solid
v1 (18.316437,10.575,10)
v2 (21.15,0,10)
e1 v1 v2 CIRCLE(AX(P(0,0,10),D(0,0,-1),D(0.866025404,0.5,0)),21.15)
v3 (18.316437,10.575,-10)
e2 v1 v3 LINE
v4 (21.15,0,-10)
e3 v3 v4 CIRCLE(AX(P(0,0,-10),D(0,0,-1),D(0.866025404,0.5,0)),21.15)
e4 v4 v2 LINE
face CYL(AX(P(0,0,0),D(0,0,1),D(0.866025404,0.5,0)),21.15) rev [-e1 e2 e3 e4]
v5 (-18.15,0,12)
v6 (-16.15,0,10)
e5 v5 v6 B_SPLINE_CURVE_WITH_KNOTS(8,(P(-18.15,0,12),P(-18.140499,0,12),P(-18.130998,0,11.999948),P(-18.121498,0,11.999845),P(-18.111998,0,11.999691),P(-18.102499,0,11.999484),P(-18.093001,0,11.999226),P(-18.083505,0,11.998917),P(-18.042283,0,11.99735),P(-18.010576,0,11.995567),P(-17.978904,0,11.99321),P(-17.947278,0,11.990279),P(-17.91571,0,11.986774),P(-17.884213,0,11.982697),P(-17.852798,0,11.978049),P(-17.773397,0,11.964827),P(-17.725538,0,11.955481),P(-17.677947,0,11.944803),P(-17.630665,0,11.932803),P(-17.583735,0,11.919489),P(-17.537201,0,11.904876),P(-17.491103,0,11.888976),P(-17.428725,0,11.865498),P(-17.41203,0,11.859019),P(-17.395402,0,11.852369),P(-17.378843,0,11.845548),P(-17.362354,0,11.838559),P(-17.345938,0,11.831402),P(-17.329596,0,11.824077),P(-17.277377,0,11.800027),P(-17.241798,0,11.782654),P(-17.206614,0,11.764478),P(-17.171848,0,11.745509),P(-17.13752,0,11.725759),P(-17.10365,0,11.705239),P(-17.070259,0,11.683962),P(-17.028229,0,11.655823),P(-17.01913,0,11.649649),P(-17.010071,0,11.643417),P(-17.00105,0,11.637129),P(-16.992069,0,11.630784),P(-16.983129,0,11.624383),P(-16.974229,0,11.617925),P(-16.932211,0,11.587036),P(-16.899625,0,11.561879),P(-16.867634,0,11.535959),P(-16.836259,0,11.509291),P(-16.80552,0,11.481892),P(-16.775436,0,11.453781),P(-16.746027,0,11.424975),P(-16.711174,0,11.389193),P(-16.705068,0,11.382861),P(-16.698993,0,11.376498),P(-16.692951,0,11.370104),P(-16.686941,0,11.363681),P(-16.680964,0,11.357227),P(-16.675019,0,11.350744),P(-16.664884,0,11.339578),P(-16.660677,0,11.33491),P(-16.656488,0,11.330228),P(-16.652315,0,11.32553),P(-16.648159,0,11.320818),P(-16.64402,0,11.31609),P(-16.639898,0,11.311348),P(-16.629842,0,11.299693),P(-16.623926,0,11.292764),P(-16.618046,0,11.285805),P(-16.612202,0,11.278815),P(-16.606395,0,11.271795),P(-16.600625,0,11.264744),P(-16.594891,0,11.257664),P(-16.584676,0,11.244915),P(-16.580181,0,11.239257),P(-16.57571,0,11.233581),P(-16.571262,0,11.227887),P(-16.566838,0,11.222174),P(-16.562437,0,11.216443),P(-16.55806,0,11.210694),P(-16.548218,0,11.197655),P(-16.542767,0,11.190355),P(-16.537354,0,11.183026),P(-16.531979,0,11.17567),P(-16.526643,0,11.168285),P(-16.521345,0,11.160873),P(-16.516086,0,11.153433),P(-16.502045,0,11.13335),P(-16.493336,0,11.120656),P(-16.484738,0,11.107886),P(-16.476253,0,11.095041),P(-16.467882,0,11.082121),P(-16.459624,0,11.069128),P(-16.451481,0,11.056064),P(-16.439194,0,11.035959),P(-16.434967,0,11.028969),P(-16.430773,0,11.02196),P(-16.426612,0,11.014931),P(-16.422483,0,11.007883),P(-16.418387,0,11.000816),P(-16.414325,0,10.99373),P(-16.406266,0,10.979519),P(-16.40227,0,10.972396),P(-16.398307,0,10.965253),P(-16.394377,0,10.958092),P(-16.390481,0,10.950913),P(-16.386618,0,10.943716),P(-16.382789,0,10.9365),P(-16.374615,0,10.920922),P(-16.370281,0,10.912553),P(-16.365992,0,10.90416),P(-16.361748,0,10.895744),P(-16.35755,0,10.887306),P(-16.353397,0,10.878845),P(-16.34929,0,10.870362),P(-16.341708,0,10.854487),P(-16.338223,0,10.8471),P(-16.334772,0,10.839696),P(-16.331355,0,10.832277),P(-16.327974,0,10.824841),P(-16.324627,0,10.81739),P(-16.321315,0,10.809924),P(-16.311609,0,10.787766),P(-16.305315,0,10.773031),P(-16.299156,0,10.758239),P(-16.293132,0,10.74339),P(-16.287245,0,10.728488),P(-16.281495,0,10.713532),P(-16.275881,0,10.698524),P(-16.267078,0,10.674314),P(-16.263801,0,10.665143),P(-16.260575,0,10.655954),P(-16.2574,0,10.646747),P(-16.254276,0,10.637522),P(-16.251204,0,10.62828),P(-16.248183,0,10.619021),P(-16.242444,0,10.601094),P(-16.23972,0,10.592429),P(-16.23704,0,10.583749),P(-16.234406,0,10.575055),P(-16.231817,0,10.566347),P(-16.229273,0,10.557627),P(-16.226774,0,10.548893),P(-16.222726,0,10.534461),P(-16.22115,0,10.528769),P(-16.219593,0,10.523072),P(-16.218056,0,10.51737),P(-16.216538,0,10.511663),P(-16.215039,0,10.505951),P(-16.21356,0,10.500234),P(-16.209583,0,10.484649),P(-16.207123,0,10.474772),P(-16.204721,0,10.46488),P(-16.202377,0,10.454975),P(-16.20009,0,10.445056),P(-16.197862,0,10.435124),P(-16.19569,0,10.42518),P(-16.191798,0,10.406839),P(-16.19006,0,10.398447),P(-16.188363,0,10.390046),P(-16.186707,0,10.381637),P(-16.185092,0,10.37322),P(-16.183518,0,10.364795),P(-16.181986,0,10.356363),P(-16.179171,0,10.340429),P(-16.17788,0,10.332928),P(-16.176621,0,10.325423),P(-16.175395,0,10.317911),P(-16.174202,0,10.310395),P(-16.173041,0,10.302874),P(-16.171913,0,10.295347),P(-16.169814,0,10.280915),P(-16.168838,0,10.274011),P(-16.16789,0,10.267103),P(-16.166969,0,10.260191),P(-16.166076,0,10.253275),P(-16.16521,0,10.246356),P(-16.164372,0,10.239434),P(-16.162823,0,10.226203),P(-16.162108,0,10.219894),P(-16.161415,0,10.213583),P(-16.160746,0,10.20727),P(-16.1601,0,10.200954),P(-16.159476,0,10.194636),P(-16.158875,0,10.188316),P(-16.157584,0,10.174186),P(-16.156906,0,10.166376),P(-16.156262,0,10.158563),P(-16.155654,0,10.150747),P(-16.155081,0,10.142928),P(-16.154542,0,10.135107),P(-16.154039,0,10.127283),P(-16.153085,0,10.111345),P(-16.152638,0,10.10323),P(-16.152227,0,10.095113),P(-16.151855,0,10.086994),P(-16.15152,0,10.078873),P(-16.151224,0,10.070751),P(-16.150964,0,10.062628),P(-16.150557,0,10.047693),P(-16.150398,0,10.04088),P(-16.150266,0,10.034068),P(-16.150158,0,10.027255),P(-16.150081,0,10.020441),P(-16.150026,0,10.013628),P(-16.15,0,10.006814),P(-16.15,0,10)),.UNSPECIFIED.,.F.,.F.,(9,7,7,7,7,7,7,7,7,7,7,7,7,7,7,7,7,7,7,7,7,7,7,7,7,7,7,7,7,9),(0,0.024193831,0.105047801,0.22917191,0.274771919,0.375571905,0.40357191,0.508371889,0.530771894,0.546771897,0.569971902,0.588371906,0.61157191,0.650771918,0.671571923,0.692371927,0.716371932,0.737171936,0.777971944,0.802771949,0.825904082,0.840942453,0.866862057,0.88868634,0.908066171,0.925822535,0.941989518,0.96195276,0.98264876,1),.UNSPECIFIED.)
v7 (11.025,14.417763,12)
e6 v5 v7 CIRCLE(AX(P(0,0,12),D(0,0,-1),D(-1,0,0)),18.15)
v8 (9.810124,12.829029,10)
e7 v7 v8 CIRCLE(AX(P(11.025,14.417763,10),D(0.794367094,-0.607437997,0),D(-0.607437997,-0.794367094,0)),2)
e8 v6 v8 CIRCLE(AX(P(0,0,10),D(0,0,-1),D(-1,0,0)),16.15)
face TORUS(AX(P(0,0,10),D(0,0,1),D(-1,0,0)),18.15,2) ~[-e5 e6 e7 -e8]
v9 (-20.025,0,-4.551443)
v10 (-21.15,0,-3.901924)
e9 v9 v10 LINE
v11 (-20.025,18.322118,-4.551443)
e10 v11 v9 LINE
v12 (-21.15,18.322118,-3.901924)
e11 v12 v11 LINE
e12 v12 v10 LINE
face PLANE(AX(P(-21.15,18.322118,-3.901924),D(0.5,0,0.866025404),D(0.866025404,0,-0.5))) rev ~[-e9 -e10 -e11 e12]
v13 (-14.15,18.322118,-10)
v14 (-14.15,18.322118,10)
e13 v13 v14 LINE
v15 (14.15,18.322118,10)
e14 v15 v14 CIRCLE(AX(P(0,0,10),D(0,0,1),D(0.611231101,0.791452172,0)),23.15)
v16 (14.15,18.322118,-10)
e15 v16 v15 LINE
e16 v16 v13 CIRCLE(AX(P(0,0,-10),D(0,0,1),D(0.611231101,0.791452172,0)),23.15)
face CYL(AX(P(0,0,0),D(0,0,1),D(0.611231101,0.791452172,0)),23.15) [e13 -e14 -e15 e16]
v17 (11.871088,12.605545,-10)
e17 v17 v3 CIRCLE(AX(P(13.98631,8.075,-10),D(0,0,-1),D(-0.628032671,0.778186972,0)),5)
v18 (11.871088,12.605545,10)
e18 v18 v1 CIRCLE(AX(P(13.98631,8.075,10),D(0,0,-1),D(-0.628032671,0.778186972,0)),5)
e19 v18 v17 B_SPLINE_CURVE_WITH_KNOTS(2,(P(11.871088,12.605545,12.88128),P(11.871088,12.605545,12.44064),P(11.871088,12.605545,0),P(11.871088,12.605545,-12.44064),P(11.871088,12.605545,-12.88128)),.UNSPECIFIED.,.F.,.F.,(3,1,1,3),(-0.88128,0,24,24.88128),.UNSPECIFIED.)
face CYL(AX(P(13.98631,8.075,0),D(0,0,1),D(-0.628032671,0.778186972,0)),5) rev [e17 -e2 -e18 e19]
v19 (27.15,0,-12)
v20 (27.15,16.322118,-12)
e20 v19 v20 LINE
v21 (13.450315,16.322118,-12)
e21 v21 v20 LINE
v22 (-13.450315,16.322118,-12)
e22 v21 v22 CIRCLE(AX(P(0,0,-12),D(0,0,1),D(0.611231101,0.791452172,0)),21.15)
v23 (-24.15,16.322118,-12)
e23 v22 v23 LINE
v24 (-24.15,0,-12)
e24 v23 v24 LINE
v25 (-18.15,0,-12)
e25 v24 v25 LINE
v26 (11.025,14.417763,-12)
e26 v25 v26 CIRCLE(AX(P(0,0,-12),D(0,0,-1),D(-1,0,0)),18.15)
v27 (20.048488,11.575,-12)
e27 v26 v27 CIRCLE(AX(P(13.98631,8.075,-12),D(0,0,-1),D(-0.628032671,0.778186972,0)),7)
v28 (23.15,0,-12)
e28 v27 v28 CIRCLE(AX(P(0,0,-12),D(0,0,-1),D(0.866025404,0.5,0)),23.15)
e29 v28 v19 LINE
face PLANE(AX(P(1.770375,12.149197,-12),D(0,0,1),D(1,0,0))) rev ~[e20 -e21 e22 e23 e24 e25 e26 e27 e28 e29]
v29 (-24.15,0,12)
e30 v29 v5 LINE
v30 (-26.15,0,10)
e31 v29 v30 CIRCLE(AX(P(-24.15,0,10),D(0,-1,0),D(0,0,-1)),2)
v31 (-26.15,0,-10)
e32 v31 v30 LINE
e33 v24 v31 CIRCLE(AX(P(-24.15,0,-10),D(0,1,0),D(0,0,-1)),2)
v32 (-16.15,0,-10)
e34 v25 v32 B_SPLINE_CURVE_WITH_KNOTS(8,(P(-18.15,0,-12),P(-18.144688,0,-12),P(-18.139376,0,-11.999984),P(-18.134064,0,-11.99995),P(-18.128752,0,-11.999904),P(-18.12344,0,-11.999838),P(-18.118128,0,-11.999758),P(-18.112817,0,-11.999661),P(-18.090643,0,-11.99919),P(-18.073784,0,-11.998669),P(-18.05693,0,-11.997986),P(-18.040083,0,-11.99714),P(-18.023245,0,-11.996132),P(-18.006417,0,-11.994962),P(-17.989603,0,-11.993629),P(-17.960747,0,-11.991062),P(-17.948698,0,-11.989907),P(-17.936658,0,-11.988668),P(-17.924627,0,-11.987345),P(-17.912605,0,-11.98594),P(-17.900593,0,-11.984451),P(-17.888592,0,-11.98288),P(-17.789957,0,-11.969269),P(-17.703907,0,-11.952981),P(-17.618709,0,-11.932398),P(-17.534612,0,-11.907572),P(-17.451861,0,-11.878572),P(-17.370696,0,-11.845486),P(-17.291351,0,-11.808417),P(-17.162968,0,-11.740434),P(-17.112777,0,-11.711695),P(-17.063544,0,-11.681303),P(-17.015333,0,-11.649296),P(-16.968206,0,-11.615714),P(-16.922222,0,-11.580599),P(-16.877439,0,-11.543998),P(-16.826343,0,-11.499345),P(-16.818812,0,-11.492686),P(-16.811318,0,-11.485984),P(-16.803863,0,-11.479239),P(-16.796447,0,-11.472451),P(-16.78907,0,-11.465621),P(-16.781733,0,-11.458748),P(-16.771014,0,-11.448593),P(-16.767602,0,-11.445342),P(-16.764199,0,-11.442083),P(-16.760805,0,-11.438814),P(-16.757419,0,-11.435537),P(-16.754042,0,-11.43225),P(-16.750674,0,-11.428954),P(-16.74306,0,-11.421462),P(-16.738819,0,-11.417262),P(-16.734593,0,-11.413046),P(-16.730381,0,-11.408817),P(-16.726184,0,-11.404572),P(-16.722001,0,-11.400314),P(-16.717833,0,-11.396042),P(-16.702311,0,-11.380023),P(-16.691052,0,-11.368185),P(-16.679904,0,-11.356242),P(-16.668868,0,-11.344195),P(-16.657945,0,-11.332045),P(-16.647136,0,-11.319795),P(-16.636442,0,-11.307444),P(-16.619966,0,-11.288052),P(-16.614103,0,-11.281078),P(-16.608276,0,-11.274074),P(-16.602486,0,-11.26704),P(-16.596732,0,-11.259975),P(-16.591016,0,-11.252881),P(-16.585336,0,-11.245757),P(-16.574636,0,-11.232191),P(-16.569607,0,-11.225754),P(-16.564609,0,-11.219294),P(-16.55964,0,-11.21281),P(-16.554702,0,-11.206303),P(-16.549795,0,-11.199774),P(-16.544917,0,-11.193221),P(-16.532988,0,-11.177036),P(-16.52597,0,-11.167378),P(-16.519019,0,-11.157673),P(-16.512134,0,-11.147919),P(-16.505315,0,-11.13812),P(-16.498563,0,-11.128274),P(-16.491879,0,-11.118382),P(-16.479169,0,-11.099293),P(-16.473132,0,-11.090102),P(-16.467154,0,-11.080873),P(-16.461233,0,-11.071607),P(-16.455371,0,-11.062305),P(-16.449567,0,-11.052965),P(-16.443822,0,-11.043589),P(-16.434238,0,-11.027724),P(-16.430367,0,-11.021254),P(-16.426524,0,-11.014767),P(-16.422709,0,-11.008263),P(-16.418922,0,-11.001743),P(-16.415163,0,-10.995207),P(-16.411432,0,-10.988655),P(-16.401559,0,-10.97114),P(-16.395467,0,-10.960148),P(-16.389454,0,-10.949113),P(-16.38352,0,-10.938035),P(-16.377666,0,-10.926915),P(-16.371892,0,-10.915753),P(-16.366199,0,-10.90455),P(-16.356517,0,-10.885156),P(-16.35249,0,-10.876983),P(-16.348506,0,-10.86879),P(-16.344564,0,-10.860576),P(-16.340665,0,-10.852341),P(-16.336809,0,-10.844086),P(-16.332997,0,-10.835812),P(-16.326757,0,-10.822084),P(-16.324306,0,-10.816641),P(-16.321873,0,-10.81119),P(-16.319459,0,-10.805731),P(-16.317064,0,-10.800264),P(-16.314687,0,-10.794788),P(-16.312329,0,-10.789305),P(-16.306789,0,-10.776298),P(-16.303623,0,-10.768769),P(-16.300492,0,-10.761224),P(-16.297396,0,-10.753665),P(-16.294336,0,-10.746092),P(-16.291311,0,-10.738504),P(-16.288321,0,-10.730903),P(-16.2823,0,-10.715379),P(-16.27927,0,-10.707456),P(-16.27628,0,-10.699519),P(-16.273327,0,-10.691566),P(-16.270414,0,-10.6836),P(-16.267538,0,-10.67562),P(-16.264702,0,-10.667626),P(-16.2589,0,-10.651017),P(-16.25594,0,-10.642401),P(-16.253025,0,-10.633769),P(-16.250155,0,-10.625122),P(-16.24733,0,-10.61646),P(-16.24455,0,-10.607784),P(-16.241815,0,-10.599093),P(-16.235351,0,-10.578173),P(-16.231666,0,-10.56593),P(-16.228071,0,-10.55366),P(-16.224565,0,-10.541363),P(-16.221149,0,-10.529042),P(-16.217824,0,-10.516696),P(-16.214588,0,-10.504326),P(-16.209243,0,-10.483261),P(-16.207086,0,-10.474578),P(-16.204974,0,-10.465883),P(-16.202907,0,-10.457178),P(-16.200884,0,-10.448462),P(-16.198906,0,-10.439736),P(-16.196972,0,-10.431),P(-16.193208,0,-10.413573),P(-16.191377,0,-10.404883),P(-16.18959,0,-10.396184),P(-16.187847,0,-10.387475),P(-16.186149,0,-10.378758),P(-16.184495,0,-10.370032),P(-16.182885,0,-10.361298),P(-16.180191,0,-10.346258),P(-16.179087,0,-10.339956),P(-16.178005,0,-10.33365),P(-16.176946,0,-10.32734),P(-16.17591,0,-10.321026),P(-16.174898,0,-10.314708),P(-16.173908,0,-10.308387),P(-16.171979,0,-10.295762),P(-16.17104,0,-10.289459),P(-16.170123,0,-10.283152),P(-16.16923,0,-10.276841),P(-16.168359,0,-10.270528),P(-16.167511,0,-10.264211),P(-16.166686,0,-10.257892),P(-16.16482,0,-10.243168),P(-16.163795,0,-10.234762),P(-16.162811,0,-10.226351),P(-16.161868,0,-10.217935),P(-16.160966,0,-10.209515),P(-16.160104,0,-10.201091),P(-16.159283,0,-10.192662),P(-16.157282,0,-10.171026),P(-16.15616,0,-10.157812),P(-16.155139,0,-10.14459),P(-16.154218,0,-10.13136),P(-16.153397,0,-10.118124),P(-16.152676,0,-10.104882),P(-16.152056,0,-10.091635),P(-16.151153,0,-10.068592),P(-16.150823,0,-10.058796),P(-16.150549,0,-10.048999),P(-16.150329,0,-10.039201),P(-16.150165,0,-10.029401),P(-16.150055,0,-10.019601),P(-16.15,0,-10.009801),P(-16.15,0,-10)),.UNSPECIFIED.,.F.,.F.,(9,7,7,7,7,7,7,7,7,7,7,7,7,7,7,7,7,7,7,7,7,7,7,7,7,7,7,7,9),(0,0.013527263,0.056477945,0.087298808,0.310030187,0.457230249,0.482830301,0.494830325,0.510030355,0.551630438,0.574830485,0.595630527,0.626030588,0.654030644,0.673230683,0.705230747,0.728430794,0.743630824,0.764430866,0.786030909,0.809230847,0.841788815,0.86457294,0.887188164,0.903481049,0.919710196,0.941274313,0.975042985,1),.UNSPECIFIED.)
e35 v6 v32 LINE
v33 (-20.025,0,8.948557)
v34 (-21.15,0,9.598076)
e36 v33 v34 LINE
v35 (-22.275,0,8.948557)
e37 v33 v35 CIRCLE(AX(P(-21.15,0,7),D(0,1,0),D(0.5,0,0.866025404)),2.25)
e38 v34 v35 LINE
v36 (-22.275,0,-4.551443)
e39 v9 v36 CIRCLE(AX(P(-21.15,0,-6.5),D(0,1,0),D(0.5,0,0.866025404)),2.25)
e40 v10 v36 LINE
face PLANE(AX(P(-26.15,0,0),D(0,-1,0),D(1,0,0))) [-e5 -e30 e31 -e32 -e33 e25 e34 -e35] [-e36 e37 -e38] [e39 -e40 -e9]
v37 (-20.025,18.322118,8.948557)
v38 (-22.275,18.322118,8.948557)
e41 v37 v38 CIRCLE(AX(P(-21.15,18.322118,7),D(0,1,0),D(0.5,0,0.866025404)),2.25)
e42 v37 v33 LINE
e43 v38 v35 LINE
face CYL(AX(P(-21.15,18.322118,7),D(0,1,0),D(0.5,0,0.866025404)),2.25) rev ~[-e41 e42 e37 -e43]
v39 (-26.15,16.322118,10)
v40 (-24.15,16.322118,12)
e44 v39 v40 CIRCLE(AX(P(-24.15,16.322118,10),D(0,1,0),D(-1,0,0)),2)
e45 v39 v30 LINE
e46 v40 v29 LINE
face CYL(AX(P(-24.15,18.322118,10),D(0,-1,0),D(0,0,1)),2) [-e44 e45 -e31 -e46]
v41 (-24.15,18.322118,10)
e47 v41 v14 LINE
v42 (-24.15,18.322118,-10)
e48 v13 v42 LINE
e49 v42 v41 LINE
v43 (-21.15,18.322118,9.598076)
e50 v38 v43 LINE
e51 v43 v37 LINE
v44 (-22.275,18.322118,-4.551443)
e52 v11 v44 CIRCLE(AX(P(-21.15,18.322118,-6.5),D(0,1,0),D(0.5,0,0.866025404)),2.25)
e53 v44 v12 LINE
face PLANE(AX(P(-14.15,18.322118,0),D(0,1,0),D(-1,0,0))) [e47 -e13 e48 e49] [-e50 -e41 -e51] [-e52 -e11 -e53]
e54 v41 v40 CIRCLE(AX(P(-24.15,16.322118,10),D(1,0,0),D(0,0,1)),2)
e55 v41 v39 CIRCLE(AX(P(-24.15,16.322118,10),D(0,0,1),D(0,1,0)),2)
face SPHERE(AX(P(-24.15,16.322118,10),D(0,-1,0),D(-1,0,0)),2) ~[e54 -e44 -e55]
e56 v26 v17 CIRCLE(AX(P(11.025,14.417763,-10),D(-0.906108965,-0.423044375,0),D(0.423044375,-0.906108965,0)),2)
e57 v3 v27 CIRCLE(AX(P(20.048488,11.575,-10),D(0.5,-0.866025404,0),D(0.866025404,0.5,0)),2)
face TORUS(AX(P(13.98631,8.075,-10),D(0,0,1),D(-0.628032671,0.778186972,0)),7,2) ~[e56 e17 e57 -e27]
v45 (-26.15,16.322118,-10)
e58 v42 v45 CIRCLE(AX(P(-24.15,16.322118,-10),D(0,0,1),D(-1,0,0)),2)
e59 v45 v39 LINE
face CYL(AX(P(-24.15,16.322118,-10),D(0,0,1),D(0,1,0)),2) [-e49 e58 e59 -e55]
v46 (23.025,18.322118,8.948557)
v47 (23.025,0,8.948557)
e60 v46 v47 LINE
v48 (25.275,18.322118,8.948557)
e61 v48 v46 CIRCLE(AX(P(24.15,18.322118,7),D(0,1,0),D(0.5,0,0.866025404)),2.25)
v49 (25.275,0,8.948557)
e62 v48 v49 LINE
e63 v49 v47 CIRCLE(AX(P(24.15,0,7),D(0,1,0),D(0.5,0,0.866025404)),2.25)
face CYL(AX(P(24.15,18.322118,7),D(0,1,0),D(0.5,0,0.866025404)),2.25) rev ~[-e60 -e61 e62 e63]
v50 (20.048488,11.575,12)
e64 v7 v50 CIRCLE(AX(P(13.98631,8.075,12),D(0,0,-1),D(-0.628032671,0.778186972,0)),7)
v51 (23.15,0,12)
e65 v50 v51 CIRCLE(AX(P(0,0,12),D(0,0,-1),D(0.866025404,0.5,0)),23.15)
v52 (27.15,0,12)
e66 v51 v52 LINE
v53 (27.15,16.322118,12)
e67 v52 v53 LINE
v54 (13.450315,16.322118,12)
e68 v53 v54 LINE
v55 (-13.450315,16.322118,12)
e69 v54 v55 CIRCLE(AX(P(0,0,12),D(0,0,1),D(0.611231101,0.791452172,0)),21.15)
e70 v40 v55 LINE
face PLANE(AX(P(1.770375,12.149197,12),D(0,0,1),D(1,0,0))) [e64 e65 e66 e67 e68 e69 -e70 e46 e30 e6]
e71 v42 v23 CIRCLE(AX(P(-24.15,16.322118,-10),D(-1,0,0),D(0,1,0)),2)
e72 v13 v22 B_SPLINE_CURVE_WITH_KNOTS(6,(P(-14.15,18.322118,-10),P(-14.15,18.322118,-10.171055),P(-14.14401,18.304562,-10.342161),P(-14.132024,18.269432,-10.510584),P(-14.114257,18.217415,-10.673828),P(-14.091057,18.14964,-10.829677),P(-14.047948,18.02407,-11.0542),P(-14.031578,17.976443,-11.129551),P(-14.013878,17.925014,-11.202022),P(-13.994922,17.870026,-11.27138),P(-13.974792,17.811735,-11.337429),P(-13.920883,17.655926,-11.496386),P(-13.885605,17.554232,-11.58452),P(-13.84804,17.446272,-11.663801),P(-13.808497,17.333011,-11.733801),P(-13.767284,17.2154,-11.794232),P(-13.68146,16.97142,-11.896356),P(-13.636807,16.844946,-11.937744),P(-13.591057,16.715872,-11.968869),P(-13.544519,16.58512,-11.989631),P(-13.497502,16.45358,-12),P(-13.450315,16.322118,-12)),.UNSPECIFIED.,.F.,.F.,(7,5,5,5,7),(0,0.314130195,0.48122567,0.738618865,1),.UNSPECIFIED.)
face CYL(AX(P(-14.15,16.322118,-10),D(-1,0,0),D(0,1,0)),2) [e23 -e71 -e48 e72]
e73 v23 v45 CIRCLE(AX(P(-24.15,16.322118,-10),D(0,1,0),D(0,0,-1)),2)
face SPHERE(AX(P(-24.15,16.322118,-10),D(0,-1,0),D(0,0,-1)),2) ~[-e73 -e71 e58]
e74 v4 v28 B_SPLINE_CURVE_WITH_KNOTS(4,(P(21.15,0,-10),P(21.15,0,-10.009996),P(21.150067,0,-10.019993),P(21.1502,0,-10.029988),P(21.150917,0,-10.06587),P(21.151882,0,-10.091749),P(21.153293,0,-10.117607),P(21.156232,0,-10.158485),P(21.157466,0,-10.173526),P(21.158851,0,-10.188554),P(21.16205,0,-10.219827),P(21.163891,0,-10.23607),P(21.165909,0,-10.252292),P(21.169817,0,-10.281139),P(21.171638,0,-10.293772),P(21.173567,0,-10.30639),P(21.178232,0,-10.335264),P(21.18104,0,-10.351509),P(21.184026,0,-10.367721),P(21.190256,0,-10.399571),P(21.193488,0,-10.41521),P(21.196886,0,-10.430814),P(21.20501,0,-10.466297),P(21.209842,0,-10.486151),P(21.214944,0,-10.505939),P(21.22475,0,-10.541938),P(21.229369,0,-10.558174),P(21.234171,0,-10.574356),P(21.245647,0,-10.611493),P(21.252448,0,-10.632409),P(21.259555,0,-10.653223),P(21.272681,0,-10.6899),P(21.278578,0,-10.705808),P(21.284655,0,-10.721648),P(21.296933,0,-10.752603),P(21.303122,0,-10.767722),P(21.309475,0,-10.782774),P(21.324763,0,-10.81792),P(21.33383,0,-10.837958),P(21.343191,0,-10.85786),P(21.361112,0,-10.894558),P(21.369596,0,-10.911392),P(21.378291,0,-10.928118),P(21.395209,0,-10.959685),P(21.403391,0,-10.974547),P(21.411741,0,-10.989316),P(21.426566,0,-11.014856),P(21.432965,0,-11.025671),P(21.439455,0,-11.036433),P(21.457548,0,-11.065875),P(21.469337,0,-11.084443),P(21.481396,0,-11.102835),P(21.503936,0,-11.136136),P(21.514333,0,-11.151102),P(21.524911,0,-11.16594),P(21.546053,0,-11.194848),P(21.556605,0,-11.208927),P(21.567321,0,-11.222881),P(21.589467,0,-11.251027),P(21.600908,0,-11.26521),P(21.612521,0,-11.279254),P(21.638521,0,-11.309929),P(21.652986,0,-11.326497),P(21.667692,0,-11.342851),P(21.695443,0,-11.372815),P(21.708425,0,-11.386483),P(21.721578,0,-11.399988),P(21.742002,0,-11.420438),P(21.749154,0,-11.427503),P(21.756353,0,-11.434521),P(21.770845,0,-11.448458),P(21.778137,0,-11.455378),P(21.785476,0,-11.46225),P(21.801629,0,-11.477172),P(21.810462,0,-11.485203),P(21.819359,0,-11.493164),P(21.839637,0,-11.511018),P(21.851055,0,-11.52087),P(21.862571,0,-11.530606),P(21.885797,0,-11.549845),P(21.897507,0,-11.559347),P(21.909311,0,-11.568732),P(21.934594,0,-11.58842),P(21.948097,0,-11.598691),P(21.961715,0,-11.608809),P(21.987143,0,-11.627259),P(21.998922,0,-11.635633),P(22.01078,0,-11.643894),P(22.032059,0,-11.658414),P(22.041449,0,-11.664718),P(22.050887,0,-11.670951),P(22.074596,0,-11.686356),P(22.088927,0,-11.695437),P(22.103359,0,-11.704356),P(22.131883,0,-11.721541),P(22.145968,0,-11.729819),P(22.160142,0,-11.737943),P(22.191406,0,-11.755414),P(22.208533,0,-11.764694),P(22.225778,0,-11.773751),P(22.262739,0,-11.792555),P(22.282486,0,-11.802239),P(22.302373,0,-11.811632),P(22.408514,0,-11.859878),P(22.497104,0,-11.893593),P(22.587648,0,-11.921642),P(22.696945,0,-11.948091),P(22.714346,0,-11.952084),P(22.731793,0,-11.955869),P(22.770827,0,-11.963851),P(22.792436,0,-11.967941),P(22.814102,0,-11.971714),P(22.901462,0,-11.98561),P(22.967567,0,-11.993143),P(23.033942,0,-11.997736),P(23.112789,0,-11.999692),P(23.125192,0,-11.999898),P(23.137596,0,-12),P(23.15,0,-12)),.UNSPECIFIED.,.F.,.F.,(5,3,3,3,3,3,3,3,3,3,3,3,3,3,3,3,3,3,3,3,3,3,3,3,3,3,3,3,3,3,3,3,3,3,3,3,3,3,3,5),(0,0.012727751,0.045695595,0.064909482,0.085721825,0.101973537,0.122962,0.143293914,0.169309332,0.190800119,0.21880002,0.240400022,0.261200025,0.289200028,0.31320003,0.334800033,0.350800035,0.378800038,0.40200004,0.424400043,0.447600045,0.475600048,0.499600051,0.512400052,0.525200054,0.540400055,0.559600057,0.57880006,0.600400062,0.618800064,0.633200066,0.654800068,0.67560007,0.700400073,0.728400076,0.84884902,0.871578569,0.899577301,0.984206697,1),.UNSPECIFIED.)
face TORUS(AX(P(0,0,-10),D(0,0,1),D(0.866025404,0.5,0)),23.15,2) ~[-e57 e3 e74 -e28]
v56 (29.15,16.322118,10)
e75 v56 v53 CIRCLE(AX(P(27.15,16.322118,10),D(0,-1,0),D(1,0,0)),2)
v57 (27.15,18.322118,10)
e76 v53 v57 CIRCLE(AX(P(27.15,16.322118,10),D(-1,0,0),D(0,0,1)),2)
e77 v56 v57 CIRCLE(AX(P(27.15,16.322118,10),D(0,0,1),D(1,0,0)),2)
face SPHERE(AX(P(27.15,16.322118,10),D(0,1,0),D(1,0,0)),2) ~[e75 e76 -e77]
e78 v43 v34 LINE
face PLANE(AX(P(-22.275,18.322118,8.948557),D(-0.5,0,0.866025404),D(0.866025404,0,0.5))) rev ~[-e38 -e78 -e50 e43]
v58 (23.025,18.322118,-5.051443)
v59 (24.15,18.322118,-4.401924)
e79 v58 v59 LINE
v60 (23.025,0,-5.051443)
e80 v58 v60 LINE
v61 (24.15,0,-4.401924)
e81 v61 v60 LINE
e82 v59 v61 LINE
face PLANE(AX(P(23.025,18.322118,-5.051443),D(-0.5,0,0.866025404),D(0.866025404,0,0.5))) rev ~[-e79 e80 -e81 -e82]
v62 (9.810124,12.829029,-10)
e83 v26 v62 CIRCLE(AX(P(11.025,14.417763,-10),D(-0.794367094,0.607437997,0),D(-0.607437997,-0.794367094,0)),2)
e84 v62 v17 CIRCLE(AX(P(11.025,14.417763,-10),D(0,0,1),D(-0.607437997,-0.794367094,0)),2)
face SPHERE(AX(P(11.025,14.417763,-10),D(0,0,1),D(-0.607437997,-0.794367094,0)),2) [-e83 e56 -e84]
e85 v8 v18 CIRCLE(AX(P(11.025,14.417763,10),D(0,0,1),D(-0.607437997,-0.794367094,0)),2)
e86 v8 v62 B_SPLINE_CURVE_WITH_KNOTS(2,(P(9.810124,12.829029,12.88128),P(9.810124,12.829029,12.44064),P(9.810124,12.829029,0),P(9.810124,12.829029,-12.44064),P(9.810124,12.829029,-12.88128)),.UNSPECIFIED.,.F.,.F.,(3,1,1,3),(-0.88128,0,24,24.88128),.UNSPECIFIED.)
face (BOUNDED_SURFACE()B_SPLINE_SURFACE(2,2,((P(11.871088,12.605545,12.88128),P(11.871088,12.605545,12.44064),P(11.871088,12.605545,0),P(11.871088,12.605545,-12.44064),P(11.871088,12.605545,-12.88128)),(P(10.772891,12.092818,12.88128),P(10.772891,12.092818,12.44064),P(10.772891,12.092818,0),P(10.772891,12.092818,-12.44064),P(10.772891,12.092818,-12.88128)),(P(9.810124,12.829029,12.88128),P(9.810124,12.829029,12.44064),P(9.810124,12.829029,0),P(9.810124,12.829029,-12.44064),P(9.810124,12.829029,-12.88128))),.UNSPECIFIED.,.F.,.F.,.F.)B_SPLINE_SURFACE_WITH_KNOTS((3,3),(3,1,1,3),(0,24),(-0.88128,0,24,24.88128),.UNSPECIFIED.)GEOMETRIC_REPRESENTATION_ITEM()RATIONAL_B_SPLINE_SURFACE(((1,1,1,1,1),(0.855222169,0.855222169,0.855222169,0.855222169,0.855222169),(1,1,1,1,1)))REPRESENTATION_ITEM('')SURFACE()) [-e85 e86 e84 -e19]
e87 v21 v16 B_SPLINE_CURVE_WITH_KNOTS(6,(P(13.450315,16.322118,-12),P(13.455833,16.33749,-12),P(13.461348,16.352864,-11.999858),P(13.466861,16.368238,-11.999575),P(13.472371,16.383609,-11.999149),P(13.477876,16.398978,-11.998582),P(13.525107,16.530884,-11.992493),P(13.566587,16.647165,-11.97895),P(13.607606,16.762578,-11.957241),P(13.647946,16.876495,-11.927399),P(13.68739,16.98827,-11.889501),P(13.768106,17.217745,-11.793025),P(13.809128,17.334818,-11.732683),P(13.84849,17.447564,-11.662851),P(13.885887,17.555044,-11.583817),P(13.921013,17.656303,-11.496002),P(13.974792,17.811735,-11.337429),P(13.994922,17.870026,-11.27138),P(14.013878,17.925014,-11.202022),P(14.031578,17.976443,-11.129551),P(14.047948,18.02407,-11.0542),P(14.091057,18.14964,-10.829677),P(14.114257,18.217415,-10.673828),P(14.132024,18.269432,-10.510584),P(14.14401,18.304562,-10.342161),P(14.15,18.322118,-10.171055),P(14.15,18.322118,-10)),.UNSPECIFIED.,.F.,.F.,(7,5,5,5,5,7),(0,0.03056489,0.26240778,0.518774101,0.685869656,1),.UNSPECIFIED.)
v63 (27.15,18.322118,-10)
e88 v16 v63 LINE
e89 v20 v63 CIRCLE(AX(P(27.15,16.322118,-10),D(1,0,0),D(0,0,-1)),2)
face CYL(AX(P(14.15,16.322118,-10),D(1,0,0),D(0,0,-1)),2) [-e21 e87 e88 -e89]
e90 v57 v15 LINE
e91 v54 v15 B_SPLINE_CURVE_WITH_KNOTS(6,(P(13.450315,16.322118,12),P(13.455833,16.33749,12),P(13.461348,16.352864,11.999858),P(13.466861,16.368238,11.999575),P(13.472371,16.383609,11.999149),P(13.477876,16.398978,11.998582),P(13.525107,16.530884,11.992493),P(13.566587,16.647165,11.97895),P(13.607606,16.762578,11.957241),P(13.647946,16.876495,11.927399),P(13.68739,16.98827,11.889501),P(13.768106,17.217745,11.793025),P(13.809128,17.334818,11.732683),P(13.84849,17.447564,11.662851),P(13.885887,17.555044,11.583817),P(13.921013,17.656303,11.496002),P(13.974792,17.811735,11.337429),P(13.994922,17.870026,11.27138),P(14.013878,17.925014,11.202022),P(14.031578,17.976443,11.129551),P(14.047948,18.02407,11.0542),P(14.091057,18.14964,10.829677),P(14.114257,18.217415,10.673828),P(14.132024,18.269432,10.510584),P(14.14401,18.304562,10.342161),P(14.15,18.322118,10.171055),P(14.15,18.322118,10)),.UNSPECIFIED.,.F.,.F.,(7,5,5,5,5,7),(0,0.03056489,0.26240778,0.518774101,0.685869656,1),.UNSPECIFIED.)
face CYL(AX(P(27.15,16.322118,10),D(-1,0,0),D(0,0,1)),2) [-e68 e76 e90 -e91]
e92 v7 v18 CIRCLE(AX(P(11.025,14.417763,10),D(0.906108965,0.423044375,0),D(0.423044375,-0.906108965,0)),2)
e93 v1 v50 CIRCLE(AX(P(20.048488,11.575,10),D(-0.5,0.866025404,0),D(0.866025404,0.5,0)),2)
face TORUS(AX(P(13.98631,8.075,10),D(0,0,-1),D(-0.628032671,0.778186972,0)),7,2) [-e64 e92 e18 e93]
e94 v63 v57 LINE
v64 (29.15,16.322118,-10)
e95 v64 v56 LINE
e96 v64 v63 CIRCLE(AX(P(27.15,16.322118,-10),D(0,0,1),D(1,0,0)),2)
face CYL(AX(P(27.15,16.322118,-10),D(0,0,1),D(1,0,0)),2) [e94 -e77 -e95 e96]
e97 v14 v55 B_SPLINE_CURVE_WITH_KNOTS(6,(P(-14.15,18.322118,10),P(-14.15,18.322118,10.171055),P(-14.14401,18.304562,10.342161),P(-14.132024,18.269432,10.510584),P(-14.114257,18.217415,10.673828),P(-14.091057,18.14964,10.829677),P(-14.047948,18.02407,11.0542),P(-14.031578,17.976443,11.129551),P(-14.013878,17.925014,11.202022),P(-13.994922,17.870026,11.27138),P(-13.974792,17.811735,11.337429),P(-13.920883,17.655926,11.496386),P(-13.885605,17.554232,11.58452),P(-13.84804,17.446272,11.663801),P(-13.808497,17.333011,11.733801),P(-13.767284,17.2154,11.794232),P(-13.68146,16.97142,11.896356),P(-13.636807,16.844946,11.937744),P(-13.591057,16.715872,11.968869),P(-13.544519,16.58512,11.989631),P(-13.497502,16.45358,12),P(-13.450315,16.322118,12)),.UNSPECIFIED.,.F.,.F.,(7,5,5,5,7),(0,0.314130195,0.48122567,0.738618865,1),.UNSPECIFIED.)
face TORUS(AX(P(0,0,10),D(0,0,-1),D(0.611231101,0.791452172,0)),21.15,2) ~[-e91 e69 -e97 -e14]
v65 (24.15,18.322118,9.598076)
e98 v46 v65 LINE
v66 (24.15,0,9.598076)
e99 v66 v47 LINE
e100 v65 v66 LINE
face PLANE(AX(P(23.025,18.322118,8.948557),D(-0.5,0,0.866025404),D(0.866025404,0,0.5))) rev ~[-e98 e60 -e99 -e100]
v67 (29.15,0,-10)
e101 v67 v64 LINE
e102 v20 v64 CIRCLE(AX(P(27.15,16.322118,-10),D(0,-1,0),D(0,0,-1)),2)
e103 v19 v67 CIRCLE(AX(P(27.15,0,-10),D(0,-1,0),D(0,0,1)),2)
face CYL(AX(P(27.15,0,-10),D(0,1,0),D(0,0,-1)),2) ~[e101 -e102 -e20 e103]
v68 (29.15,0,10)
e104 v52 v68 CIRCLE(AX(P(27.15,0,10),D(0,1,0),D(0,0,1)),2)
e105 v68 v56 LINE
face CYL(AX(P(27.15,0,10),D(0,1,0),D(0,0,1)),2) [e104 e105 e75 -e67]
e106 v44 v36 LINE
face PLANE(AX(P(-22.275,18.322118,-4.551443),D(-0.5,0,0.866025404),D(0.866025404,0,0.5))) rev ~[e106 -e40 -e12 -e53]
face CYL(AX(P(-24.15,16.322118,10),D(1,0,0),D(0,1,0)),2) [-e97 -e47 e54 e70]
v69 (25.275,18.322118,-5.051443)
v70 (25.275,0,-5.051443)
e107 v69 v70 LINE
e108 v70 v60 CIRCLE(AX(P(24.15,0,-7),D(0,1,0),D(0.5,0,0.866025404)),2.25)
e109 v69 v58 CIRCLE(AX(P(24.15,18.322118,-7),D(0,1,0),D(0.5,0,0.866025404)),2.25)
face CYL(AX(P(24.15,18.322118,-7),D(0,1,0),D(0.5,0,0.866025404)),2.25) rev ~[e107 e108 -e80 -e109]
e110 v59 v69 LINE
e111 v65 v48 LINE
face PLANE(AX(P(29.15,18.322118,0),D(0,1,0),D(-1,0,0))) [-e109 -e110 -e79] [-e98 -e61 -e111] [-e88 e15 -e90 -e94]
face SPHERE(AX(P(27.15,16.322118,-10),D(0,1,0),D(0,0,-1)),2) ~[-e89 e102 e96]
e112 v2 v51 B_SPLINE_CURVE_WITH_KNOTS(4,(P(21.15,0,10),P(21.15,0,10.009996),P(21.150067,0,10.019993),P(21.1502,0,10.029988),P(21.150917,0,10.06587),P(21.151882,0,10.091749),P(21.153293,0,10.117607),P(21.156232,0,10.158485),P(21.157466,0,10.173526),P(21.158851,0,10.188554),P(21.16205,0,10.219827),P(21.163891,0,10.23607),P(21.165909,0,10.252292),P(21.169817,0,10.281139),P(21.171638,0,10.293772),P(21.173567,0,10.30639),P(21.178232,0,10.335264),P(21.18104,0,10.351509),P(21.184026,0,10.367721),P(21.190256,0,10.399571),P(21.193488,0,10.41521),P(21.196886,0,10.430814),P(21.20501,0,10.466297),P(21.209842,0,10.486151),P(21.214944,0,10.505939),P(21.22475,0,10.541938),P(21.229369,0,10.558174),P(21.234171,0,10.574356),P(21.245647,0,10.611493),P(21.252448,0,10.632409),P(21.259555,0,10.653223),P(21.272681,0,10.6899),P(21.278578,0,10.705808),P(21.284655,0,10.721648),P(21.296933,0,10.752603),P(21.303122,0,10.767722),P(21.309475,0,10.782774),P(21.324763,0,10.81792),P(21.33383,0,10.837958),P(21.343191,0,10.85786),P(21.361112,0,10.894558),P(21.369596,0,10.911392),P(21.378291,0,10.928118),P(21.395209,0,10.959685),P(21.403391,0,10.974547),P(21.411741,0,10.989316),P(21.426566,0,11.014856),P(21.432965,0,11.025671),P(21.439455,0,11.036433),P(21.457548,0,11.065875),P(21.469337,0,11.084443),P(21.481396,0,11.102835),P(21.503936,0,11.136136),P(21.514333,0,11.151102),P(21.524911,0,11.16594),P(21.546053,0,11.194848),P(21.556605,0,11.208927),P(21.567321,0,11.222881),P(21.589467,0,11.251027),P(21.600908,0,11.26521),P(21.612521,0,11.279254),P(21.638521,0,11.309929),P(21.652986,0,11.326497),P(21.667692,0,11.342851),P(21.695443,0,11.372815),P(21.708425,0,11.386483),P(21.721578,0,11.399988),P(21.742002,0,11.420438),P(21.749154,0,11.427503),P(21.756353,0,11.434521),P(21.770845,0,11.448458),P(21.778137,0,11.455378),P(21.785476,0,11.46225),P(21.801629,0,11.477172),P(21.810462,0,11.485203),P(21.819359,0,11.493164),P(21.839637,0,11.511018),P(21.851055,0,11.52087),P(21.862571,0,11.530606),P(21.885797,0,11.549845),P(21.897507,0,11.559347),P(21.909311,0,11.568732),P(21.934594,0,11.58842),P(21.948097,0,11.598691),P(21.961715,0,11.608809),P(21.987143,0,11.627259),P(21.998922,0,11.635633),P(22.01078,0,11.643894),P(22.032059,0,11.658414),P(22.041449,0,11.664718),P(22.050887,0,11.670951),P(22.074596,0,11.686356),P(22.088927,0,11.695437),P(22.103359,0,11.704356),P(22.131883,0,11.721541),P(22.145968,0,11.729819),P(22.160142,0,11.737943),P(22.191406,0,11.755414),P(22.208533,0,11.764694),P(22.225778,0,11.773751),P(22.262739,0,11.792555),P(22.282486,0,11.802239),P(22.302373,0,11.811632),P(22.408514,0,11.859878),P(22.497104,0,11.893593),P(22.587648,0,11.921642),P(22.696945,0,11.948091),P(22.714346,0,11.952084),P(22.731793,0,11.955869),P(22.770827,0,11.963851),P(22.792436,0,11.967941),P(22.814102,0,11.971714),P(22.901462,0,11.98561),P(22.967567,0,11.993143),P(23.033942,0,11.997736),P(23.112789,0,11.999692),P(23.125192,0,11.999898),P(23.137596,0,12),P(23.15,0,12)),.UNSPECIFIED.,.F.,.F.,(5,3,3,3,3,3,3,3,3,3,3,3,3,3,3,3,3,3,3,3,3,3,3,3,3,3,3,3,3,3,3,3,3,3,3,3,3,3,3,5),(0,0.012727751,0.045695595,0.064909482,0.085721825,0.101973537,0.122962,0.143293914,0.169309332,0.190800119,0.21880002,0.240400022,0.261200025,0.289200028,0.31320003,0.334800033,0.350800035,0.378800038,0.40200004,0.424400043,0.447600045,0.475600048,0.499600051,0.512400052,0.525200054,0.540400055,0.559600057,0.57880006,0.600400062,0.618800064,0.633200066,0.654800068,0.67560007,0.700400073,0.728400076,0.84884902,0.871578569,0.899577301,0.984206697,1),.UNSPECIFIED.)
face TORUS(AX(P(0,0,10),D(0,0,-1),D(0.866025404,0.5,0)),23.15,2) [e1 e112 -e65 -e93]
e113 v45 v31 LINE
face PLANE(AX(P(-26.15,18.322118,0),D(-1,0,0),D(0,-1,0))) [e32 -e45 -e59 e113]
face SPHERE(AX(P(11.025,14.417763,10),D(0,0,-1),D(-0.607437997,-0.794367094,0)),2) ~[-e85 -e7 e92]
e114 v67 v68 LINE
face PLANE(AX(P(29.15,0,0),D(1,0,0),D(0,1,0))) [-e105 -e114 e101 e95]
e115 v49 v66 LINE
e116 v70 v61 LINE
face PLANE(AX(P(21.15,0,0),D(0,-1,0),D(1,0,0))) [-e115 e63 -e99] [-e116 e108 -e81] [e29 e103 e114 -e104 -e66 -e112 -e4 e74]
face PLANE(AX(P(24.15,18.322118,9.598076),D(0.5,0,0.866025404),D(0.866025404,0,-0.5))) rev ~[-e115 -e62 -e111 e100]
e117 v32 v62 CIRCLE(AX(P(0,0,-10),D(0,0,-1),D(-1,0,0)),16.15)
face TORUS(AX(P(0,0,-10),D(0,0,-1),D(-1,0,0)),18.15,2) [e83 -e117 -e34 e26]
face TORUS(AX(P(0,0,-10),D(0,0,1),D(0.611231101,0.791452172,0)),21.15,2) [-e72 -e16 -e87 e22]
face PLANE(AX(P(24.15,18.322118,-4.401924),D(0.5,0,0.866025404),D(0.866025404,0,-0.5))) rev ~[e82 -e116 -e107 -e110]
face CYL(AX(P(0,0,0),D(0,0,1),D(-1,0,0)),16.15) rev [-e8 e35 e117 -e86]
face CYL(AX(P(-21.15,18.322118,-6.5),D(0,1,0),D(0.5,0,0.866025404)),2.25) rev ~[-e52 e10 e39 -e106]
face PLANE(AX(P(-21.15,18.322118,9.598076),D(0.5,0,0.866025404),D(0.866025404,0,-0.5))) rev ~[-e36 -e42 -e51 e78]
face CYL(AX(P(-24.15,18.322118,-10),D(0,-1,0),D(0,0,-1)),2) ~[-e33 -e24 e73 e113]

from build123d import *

# Parameters (mm, degrees)
AUFSATZ_LINEAR_AUSTRAGEN1_DEPTH = 12
SCHNITT_LINEAR_AUSTRAGEN1_DEPTH = 37.46124655
SCHNITT_LINEAR_AUSTRAGEN2_DEPTH = 37.46124655
SCHNITT_LINEAR_AUSTRAGEN3_DEPTH = 37.46124655
VERRUNDUNG1_R                   = 2
VERRUNDUNG2_R                   = 2


with BuildPart() as part:
    # Skizze1 → Aufsatz-Linear austragen1 (new, symmetric)
    with BuildSketch(Plane.XY):
        with BuildLine():
            ThreePointArc((18.31643729, 10.575), (20.429331226, 5.474022804), (21.15, 0))
            Line((21.15, 0), (29.15, 0))
            Line((29.15, 0), (29.15, 18.322117782))
            Line((29.15, 18.322117782), (14.15, 18.322117782))
            ThreePointArc((14.15, 18.322117782), (0, 23.15), (-14.15, 18.322117782))
            Line((-14.15, 18.322117782), (-26.15, 18.322117782))
            Line((-26.15, 18.322117782), (-26.15, 0))
            Line((-26.15, 0), (-16.15, 0))
            ThreePointArc((-16.15, 0), (-6.544357391, 14.764616024), (10.846146915, 11.965934861))
            ThreePointArc((10.846146915, 11.965934861), (14.901557957, 12.990518454), (18.31643729, 10.575))
        make_face()
    extrude(amount=AUFSATZ_LINEAR_AUSTRAGEN1_DEPTH, both=True)

    # Skizze2 → Schnitt-Linear austragen1 (cut, through all)
    with BuildSketch(Plane(origin=(0, 18.322117782, 0), x_dir=(1, 0, 0), z_dir=(0, 1, 0))):
        with BuildLine():
            Line((-22.275, 4.551442841), (-21.15, 3.901923789))
            Line((-21.15, 3.901923789), (-20.025, 4.551442841))
            ThreePointArc((-20.025, 4.551442841), (-21.15, 8.75), (-22.275, 4.551442841))
        make_face()
    extrude(amount=-SCHNITT_LINEAR_AUSTRAGEN1_DEPTH, mode=Mode.SUBTRACT)

    # Skizze2<4> → Schnitt-Linear austragen2 (cut, through all)
    with BuildSketch(Plane(origin=(0, 18.322117782, 0), x_dir=(1, 0, 0), z_dir=(0, 1, 0))):
        with BuildLine():
            Line((23.025, 5.051442841), (24.15, 4.401923789))
            Line((24.15, 4.401923789), (25.275, 5.051442841))
            ThreePointArc((25.275, 5.051442841), (24.15, 9.25), (23.025, 5.051442841))
        make_face()
    extrude(amount=-SCHNITT_LINEAR_AUSTRAGEN2_DEPTH, mode=Mode.SUBTRACT)

    # Skizze2<5> → Schnitt-Linear austragen3 (cut, through all)
    with BuildSketch(Plane(origin=(0, 18.322117782, 0), x_dir=(1, 0, 0), z_dir=(0, 1, 0))):
        with BuildLine():
            Line((24.15, -9.598076211), (25.275, -8.948557159))
            ThreePointArc((25.275, -8.948557159), (24.15, -4.75), (23.025, -8.948557159))
            Line((23.025, -8.948557159), (24.15, -9.598076211))
        make_face()
        with BuildLine():
            Line((-22.275, -8.948557159), (-21.15, -9.598076211))
            Line((-21.15, -9.598076211), (-20.025, -8.948557159))
            ThreePointArc((-20.025, -8.948557159), (-21.15, -4.75), (-22.275, -8.948557159))
        make_face()
    extrude(amount=-SCHNITT_LINEAR_AUSTRAGEN3_DEPTH, mode=Mode.SUBTRACT)

    # Verrundung1
    verrundung1_edges = [part.edges().sort_by_distance(p)[0] for p in [
        (20.429331226, 5.474022804, 12),
        (20.429331226, 5.474022804, -12),
        (10.846146915, 11.965934861, 0),
        (14.901557957, 12.990518454, 12),
        (14.901557957, 12.990518454, -12),
        (29.15, 9.161058891, -12),
        (29.15, 9.161058891, 12),
        (-26.15, 9.161058891, -12),
        (-26.15, 9.161058891, 12),
        (-6.544357391, 14.764616024, -12),
        (-6.544357391, 14.764616024, 12),
    ]]
    fillet(verrundung1_edges, radius=VERRUNDUNG1_R)

    # Verrundung2
    verrundung2_edges = [part.edges().sort_by_distance(p)[0] for p in [
        (20.65, 18.322117782, 12),
        (28.564213562, 18.322117782, 11.414213562),
        (20.65, 18.322117782, -12),
        (28.564213562, 18.322117782, -11.414213562),
        (-19.15, 18.322117782, 12),
        (-25.564213562, 18.322117782, 11.414213562),
        (-19.15, 18.322117782, -12),
        (-25.564213562, 18.322117782, -11.414213562),
        (0, 23.15, -12),
        (0, 23.15, 12),
        (29.15, 18.322117782, 0),
        (-26.15, 18.322117782, 0),
    ]]
    fillet(verrundung2_edges, radius=VERRUNDUNG2_R)


solid = part.part
